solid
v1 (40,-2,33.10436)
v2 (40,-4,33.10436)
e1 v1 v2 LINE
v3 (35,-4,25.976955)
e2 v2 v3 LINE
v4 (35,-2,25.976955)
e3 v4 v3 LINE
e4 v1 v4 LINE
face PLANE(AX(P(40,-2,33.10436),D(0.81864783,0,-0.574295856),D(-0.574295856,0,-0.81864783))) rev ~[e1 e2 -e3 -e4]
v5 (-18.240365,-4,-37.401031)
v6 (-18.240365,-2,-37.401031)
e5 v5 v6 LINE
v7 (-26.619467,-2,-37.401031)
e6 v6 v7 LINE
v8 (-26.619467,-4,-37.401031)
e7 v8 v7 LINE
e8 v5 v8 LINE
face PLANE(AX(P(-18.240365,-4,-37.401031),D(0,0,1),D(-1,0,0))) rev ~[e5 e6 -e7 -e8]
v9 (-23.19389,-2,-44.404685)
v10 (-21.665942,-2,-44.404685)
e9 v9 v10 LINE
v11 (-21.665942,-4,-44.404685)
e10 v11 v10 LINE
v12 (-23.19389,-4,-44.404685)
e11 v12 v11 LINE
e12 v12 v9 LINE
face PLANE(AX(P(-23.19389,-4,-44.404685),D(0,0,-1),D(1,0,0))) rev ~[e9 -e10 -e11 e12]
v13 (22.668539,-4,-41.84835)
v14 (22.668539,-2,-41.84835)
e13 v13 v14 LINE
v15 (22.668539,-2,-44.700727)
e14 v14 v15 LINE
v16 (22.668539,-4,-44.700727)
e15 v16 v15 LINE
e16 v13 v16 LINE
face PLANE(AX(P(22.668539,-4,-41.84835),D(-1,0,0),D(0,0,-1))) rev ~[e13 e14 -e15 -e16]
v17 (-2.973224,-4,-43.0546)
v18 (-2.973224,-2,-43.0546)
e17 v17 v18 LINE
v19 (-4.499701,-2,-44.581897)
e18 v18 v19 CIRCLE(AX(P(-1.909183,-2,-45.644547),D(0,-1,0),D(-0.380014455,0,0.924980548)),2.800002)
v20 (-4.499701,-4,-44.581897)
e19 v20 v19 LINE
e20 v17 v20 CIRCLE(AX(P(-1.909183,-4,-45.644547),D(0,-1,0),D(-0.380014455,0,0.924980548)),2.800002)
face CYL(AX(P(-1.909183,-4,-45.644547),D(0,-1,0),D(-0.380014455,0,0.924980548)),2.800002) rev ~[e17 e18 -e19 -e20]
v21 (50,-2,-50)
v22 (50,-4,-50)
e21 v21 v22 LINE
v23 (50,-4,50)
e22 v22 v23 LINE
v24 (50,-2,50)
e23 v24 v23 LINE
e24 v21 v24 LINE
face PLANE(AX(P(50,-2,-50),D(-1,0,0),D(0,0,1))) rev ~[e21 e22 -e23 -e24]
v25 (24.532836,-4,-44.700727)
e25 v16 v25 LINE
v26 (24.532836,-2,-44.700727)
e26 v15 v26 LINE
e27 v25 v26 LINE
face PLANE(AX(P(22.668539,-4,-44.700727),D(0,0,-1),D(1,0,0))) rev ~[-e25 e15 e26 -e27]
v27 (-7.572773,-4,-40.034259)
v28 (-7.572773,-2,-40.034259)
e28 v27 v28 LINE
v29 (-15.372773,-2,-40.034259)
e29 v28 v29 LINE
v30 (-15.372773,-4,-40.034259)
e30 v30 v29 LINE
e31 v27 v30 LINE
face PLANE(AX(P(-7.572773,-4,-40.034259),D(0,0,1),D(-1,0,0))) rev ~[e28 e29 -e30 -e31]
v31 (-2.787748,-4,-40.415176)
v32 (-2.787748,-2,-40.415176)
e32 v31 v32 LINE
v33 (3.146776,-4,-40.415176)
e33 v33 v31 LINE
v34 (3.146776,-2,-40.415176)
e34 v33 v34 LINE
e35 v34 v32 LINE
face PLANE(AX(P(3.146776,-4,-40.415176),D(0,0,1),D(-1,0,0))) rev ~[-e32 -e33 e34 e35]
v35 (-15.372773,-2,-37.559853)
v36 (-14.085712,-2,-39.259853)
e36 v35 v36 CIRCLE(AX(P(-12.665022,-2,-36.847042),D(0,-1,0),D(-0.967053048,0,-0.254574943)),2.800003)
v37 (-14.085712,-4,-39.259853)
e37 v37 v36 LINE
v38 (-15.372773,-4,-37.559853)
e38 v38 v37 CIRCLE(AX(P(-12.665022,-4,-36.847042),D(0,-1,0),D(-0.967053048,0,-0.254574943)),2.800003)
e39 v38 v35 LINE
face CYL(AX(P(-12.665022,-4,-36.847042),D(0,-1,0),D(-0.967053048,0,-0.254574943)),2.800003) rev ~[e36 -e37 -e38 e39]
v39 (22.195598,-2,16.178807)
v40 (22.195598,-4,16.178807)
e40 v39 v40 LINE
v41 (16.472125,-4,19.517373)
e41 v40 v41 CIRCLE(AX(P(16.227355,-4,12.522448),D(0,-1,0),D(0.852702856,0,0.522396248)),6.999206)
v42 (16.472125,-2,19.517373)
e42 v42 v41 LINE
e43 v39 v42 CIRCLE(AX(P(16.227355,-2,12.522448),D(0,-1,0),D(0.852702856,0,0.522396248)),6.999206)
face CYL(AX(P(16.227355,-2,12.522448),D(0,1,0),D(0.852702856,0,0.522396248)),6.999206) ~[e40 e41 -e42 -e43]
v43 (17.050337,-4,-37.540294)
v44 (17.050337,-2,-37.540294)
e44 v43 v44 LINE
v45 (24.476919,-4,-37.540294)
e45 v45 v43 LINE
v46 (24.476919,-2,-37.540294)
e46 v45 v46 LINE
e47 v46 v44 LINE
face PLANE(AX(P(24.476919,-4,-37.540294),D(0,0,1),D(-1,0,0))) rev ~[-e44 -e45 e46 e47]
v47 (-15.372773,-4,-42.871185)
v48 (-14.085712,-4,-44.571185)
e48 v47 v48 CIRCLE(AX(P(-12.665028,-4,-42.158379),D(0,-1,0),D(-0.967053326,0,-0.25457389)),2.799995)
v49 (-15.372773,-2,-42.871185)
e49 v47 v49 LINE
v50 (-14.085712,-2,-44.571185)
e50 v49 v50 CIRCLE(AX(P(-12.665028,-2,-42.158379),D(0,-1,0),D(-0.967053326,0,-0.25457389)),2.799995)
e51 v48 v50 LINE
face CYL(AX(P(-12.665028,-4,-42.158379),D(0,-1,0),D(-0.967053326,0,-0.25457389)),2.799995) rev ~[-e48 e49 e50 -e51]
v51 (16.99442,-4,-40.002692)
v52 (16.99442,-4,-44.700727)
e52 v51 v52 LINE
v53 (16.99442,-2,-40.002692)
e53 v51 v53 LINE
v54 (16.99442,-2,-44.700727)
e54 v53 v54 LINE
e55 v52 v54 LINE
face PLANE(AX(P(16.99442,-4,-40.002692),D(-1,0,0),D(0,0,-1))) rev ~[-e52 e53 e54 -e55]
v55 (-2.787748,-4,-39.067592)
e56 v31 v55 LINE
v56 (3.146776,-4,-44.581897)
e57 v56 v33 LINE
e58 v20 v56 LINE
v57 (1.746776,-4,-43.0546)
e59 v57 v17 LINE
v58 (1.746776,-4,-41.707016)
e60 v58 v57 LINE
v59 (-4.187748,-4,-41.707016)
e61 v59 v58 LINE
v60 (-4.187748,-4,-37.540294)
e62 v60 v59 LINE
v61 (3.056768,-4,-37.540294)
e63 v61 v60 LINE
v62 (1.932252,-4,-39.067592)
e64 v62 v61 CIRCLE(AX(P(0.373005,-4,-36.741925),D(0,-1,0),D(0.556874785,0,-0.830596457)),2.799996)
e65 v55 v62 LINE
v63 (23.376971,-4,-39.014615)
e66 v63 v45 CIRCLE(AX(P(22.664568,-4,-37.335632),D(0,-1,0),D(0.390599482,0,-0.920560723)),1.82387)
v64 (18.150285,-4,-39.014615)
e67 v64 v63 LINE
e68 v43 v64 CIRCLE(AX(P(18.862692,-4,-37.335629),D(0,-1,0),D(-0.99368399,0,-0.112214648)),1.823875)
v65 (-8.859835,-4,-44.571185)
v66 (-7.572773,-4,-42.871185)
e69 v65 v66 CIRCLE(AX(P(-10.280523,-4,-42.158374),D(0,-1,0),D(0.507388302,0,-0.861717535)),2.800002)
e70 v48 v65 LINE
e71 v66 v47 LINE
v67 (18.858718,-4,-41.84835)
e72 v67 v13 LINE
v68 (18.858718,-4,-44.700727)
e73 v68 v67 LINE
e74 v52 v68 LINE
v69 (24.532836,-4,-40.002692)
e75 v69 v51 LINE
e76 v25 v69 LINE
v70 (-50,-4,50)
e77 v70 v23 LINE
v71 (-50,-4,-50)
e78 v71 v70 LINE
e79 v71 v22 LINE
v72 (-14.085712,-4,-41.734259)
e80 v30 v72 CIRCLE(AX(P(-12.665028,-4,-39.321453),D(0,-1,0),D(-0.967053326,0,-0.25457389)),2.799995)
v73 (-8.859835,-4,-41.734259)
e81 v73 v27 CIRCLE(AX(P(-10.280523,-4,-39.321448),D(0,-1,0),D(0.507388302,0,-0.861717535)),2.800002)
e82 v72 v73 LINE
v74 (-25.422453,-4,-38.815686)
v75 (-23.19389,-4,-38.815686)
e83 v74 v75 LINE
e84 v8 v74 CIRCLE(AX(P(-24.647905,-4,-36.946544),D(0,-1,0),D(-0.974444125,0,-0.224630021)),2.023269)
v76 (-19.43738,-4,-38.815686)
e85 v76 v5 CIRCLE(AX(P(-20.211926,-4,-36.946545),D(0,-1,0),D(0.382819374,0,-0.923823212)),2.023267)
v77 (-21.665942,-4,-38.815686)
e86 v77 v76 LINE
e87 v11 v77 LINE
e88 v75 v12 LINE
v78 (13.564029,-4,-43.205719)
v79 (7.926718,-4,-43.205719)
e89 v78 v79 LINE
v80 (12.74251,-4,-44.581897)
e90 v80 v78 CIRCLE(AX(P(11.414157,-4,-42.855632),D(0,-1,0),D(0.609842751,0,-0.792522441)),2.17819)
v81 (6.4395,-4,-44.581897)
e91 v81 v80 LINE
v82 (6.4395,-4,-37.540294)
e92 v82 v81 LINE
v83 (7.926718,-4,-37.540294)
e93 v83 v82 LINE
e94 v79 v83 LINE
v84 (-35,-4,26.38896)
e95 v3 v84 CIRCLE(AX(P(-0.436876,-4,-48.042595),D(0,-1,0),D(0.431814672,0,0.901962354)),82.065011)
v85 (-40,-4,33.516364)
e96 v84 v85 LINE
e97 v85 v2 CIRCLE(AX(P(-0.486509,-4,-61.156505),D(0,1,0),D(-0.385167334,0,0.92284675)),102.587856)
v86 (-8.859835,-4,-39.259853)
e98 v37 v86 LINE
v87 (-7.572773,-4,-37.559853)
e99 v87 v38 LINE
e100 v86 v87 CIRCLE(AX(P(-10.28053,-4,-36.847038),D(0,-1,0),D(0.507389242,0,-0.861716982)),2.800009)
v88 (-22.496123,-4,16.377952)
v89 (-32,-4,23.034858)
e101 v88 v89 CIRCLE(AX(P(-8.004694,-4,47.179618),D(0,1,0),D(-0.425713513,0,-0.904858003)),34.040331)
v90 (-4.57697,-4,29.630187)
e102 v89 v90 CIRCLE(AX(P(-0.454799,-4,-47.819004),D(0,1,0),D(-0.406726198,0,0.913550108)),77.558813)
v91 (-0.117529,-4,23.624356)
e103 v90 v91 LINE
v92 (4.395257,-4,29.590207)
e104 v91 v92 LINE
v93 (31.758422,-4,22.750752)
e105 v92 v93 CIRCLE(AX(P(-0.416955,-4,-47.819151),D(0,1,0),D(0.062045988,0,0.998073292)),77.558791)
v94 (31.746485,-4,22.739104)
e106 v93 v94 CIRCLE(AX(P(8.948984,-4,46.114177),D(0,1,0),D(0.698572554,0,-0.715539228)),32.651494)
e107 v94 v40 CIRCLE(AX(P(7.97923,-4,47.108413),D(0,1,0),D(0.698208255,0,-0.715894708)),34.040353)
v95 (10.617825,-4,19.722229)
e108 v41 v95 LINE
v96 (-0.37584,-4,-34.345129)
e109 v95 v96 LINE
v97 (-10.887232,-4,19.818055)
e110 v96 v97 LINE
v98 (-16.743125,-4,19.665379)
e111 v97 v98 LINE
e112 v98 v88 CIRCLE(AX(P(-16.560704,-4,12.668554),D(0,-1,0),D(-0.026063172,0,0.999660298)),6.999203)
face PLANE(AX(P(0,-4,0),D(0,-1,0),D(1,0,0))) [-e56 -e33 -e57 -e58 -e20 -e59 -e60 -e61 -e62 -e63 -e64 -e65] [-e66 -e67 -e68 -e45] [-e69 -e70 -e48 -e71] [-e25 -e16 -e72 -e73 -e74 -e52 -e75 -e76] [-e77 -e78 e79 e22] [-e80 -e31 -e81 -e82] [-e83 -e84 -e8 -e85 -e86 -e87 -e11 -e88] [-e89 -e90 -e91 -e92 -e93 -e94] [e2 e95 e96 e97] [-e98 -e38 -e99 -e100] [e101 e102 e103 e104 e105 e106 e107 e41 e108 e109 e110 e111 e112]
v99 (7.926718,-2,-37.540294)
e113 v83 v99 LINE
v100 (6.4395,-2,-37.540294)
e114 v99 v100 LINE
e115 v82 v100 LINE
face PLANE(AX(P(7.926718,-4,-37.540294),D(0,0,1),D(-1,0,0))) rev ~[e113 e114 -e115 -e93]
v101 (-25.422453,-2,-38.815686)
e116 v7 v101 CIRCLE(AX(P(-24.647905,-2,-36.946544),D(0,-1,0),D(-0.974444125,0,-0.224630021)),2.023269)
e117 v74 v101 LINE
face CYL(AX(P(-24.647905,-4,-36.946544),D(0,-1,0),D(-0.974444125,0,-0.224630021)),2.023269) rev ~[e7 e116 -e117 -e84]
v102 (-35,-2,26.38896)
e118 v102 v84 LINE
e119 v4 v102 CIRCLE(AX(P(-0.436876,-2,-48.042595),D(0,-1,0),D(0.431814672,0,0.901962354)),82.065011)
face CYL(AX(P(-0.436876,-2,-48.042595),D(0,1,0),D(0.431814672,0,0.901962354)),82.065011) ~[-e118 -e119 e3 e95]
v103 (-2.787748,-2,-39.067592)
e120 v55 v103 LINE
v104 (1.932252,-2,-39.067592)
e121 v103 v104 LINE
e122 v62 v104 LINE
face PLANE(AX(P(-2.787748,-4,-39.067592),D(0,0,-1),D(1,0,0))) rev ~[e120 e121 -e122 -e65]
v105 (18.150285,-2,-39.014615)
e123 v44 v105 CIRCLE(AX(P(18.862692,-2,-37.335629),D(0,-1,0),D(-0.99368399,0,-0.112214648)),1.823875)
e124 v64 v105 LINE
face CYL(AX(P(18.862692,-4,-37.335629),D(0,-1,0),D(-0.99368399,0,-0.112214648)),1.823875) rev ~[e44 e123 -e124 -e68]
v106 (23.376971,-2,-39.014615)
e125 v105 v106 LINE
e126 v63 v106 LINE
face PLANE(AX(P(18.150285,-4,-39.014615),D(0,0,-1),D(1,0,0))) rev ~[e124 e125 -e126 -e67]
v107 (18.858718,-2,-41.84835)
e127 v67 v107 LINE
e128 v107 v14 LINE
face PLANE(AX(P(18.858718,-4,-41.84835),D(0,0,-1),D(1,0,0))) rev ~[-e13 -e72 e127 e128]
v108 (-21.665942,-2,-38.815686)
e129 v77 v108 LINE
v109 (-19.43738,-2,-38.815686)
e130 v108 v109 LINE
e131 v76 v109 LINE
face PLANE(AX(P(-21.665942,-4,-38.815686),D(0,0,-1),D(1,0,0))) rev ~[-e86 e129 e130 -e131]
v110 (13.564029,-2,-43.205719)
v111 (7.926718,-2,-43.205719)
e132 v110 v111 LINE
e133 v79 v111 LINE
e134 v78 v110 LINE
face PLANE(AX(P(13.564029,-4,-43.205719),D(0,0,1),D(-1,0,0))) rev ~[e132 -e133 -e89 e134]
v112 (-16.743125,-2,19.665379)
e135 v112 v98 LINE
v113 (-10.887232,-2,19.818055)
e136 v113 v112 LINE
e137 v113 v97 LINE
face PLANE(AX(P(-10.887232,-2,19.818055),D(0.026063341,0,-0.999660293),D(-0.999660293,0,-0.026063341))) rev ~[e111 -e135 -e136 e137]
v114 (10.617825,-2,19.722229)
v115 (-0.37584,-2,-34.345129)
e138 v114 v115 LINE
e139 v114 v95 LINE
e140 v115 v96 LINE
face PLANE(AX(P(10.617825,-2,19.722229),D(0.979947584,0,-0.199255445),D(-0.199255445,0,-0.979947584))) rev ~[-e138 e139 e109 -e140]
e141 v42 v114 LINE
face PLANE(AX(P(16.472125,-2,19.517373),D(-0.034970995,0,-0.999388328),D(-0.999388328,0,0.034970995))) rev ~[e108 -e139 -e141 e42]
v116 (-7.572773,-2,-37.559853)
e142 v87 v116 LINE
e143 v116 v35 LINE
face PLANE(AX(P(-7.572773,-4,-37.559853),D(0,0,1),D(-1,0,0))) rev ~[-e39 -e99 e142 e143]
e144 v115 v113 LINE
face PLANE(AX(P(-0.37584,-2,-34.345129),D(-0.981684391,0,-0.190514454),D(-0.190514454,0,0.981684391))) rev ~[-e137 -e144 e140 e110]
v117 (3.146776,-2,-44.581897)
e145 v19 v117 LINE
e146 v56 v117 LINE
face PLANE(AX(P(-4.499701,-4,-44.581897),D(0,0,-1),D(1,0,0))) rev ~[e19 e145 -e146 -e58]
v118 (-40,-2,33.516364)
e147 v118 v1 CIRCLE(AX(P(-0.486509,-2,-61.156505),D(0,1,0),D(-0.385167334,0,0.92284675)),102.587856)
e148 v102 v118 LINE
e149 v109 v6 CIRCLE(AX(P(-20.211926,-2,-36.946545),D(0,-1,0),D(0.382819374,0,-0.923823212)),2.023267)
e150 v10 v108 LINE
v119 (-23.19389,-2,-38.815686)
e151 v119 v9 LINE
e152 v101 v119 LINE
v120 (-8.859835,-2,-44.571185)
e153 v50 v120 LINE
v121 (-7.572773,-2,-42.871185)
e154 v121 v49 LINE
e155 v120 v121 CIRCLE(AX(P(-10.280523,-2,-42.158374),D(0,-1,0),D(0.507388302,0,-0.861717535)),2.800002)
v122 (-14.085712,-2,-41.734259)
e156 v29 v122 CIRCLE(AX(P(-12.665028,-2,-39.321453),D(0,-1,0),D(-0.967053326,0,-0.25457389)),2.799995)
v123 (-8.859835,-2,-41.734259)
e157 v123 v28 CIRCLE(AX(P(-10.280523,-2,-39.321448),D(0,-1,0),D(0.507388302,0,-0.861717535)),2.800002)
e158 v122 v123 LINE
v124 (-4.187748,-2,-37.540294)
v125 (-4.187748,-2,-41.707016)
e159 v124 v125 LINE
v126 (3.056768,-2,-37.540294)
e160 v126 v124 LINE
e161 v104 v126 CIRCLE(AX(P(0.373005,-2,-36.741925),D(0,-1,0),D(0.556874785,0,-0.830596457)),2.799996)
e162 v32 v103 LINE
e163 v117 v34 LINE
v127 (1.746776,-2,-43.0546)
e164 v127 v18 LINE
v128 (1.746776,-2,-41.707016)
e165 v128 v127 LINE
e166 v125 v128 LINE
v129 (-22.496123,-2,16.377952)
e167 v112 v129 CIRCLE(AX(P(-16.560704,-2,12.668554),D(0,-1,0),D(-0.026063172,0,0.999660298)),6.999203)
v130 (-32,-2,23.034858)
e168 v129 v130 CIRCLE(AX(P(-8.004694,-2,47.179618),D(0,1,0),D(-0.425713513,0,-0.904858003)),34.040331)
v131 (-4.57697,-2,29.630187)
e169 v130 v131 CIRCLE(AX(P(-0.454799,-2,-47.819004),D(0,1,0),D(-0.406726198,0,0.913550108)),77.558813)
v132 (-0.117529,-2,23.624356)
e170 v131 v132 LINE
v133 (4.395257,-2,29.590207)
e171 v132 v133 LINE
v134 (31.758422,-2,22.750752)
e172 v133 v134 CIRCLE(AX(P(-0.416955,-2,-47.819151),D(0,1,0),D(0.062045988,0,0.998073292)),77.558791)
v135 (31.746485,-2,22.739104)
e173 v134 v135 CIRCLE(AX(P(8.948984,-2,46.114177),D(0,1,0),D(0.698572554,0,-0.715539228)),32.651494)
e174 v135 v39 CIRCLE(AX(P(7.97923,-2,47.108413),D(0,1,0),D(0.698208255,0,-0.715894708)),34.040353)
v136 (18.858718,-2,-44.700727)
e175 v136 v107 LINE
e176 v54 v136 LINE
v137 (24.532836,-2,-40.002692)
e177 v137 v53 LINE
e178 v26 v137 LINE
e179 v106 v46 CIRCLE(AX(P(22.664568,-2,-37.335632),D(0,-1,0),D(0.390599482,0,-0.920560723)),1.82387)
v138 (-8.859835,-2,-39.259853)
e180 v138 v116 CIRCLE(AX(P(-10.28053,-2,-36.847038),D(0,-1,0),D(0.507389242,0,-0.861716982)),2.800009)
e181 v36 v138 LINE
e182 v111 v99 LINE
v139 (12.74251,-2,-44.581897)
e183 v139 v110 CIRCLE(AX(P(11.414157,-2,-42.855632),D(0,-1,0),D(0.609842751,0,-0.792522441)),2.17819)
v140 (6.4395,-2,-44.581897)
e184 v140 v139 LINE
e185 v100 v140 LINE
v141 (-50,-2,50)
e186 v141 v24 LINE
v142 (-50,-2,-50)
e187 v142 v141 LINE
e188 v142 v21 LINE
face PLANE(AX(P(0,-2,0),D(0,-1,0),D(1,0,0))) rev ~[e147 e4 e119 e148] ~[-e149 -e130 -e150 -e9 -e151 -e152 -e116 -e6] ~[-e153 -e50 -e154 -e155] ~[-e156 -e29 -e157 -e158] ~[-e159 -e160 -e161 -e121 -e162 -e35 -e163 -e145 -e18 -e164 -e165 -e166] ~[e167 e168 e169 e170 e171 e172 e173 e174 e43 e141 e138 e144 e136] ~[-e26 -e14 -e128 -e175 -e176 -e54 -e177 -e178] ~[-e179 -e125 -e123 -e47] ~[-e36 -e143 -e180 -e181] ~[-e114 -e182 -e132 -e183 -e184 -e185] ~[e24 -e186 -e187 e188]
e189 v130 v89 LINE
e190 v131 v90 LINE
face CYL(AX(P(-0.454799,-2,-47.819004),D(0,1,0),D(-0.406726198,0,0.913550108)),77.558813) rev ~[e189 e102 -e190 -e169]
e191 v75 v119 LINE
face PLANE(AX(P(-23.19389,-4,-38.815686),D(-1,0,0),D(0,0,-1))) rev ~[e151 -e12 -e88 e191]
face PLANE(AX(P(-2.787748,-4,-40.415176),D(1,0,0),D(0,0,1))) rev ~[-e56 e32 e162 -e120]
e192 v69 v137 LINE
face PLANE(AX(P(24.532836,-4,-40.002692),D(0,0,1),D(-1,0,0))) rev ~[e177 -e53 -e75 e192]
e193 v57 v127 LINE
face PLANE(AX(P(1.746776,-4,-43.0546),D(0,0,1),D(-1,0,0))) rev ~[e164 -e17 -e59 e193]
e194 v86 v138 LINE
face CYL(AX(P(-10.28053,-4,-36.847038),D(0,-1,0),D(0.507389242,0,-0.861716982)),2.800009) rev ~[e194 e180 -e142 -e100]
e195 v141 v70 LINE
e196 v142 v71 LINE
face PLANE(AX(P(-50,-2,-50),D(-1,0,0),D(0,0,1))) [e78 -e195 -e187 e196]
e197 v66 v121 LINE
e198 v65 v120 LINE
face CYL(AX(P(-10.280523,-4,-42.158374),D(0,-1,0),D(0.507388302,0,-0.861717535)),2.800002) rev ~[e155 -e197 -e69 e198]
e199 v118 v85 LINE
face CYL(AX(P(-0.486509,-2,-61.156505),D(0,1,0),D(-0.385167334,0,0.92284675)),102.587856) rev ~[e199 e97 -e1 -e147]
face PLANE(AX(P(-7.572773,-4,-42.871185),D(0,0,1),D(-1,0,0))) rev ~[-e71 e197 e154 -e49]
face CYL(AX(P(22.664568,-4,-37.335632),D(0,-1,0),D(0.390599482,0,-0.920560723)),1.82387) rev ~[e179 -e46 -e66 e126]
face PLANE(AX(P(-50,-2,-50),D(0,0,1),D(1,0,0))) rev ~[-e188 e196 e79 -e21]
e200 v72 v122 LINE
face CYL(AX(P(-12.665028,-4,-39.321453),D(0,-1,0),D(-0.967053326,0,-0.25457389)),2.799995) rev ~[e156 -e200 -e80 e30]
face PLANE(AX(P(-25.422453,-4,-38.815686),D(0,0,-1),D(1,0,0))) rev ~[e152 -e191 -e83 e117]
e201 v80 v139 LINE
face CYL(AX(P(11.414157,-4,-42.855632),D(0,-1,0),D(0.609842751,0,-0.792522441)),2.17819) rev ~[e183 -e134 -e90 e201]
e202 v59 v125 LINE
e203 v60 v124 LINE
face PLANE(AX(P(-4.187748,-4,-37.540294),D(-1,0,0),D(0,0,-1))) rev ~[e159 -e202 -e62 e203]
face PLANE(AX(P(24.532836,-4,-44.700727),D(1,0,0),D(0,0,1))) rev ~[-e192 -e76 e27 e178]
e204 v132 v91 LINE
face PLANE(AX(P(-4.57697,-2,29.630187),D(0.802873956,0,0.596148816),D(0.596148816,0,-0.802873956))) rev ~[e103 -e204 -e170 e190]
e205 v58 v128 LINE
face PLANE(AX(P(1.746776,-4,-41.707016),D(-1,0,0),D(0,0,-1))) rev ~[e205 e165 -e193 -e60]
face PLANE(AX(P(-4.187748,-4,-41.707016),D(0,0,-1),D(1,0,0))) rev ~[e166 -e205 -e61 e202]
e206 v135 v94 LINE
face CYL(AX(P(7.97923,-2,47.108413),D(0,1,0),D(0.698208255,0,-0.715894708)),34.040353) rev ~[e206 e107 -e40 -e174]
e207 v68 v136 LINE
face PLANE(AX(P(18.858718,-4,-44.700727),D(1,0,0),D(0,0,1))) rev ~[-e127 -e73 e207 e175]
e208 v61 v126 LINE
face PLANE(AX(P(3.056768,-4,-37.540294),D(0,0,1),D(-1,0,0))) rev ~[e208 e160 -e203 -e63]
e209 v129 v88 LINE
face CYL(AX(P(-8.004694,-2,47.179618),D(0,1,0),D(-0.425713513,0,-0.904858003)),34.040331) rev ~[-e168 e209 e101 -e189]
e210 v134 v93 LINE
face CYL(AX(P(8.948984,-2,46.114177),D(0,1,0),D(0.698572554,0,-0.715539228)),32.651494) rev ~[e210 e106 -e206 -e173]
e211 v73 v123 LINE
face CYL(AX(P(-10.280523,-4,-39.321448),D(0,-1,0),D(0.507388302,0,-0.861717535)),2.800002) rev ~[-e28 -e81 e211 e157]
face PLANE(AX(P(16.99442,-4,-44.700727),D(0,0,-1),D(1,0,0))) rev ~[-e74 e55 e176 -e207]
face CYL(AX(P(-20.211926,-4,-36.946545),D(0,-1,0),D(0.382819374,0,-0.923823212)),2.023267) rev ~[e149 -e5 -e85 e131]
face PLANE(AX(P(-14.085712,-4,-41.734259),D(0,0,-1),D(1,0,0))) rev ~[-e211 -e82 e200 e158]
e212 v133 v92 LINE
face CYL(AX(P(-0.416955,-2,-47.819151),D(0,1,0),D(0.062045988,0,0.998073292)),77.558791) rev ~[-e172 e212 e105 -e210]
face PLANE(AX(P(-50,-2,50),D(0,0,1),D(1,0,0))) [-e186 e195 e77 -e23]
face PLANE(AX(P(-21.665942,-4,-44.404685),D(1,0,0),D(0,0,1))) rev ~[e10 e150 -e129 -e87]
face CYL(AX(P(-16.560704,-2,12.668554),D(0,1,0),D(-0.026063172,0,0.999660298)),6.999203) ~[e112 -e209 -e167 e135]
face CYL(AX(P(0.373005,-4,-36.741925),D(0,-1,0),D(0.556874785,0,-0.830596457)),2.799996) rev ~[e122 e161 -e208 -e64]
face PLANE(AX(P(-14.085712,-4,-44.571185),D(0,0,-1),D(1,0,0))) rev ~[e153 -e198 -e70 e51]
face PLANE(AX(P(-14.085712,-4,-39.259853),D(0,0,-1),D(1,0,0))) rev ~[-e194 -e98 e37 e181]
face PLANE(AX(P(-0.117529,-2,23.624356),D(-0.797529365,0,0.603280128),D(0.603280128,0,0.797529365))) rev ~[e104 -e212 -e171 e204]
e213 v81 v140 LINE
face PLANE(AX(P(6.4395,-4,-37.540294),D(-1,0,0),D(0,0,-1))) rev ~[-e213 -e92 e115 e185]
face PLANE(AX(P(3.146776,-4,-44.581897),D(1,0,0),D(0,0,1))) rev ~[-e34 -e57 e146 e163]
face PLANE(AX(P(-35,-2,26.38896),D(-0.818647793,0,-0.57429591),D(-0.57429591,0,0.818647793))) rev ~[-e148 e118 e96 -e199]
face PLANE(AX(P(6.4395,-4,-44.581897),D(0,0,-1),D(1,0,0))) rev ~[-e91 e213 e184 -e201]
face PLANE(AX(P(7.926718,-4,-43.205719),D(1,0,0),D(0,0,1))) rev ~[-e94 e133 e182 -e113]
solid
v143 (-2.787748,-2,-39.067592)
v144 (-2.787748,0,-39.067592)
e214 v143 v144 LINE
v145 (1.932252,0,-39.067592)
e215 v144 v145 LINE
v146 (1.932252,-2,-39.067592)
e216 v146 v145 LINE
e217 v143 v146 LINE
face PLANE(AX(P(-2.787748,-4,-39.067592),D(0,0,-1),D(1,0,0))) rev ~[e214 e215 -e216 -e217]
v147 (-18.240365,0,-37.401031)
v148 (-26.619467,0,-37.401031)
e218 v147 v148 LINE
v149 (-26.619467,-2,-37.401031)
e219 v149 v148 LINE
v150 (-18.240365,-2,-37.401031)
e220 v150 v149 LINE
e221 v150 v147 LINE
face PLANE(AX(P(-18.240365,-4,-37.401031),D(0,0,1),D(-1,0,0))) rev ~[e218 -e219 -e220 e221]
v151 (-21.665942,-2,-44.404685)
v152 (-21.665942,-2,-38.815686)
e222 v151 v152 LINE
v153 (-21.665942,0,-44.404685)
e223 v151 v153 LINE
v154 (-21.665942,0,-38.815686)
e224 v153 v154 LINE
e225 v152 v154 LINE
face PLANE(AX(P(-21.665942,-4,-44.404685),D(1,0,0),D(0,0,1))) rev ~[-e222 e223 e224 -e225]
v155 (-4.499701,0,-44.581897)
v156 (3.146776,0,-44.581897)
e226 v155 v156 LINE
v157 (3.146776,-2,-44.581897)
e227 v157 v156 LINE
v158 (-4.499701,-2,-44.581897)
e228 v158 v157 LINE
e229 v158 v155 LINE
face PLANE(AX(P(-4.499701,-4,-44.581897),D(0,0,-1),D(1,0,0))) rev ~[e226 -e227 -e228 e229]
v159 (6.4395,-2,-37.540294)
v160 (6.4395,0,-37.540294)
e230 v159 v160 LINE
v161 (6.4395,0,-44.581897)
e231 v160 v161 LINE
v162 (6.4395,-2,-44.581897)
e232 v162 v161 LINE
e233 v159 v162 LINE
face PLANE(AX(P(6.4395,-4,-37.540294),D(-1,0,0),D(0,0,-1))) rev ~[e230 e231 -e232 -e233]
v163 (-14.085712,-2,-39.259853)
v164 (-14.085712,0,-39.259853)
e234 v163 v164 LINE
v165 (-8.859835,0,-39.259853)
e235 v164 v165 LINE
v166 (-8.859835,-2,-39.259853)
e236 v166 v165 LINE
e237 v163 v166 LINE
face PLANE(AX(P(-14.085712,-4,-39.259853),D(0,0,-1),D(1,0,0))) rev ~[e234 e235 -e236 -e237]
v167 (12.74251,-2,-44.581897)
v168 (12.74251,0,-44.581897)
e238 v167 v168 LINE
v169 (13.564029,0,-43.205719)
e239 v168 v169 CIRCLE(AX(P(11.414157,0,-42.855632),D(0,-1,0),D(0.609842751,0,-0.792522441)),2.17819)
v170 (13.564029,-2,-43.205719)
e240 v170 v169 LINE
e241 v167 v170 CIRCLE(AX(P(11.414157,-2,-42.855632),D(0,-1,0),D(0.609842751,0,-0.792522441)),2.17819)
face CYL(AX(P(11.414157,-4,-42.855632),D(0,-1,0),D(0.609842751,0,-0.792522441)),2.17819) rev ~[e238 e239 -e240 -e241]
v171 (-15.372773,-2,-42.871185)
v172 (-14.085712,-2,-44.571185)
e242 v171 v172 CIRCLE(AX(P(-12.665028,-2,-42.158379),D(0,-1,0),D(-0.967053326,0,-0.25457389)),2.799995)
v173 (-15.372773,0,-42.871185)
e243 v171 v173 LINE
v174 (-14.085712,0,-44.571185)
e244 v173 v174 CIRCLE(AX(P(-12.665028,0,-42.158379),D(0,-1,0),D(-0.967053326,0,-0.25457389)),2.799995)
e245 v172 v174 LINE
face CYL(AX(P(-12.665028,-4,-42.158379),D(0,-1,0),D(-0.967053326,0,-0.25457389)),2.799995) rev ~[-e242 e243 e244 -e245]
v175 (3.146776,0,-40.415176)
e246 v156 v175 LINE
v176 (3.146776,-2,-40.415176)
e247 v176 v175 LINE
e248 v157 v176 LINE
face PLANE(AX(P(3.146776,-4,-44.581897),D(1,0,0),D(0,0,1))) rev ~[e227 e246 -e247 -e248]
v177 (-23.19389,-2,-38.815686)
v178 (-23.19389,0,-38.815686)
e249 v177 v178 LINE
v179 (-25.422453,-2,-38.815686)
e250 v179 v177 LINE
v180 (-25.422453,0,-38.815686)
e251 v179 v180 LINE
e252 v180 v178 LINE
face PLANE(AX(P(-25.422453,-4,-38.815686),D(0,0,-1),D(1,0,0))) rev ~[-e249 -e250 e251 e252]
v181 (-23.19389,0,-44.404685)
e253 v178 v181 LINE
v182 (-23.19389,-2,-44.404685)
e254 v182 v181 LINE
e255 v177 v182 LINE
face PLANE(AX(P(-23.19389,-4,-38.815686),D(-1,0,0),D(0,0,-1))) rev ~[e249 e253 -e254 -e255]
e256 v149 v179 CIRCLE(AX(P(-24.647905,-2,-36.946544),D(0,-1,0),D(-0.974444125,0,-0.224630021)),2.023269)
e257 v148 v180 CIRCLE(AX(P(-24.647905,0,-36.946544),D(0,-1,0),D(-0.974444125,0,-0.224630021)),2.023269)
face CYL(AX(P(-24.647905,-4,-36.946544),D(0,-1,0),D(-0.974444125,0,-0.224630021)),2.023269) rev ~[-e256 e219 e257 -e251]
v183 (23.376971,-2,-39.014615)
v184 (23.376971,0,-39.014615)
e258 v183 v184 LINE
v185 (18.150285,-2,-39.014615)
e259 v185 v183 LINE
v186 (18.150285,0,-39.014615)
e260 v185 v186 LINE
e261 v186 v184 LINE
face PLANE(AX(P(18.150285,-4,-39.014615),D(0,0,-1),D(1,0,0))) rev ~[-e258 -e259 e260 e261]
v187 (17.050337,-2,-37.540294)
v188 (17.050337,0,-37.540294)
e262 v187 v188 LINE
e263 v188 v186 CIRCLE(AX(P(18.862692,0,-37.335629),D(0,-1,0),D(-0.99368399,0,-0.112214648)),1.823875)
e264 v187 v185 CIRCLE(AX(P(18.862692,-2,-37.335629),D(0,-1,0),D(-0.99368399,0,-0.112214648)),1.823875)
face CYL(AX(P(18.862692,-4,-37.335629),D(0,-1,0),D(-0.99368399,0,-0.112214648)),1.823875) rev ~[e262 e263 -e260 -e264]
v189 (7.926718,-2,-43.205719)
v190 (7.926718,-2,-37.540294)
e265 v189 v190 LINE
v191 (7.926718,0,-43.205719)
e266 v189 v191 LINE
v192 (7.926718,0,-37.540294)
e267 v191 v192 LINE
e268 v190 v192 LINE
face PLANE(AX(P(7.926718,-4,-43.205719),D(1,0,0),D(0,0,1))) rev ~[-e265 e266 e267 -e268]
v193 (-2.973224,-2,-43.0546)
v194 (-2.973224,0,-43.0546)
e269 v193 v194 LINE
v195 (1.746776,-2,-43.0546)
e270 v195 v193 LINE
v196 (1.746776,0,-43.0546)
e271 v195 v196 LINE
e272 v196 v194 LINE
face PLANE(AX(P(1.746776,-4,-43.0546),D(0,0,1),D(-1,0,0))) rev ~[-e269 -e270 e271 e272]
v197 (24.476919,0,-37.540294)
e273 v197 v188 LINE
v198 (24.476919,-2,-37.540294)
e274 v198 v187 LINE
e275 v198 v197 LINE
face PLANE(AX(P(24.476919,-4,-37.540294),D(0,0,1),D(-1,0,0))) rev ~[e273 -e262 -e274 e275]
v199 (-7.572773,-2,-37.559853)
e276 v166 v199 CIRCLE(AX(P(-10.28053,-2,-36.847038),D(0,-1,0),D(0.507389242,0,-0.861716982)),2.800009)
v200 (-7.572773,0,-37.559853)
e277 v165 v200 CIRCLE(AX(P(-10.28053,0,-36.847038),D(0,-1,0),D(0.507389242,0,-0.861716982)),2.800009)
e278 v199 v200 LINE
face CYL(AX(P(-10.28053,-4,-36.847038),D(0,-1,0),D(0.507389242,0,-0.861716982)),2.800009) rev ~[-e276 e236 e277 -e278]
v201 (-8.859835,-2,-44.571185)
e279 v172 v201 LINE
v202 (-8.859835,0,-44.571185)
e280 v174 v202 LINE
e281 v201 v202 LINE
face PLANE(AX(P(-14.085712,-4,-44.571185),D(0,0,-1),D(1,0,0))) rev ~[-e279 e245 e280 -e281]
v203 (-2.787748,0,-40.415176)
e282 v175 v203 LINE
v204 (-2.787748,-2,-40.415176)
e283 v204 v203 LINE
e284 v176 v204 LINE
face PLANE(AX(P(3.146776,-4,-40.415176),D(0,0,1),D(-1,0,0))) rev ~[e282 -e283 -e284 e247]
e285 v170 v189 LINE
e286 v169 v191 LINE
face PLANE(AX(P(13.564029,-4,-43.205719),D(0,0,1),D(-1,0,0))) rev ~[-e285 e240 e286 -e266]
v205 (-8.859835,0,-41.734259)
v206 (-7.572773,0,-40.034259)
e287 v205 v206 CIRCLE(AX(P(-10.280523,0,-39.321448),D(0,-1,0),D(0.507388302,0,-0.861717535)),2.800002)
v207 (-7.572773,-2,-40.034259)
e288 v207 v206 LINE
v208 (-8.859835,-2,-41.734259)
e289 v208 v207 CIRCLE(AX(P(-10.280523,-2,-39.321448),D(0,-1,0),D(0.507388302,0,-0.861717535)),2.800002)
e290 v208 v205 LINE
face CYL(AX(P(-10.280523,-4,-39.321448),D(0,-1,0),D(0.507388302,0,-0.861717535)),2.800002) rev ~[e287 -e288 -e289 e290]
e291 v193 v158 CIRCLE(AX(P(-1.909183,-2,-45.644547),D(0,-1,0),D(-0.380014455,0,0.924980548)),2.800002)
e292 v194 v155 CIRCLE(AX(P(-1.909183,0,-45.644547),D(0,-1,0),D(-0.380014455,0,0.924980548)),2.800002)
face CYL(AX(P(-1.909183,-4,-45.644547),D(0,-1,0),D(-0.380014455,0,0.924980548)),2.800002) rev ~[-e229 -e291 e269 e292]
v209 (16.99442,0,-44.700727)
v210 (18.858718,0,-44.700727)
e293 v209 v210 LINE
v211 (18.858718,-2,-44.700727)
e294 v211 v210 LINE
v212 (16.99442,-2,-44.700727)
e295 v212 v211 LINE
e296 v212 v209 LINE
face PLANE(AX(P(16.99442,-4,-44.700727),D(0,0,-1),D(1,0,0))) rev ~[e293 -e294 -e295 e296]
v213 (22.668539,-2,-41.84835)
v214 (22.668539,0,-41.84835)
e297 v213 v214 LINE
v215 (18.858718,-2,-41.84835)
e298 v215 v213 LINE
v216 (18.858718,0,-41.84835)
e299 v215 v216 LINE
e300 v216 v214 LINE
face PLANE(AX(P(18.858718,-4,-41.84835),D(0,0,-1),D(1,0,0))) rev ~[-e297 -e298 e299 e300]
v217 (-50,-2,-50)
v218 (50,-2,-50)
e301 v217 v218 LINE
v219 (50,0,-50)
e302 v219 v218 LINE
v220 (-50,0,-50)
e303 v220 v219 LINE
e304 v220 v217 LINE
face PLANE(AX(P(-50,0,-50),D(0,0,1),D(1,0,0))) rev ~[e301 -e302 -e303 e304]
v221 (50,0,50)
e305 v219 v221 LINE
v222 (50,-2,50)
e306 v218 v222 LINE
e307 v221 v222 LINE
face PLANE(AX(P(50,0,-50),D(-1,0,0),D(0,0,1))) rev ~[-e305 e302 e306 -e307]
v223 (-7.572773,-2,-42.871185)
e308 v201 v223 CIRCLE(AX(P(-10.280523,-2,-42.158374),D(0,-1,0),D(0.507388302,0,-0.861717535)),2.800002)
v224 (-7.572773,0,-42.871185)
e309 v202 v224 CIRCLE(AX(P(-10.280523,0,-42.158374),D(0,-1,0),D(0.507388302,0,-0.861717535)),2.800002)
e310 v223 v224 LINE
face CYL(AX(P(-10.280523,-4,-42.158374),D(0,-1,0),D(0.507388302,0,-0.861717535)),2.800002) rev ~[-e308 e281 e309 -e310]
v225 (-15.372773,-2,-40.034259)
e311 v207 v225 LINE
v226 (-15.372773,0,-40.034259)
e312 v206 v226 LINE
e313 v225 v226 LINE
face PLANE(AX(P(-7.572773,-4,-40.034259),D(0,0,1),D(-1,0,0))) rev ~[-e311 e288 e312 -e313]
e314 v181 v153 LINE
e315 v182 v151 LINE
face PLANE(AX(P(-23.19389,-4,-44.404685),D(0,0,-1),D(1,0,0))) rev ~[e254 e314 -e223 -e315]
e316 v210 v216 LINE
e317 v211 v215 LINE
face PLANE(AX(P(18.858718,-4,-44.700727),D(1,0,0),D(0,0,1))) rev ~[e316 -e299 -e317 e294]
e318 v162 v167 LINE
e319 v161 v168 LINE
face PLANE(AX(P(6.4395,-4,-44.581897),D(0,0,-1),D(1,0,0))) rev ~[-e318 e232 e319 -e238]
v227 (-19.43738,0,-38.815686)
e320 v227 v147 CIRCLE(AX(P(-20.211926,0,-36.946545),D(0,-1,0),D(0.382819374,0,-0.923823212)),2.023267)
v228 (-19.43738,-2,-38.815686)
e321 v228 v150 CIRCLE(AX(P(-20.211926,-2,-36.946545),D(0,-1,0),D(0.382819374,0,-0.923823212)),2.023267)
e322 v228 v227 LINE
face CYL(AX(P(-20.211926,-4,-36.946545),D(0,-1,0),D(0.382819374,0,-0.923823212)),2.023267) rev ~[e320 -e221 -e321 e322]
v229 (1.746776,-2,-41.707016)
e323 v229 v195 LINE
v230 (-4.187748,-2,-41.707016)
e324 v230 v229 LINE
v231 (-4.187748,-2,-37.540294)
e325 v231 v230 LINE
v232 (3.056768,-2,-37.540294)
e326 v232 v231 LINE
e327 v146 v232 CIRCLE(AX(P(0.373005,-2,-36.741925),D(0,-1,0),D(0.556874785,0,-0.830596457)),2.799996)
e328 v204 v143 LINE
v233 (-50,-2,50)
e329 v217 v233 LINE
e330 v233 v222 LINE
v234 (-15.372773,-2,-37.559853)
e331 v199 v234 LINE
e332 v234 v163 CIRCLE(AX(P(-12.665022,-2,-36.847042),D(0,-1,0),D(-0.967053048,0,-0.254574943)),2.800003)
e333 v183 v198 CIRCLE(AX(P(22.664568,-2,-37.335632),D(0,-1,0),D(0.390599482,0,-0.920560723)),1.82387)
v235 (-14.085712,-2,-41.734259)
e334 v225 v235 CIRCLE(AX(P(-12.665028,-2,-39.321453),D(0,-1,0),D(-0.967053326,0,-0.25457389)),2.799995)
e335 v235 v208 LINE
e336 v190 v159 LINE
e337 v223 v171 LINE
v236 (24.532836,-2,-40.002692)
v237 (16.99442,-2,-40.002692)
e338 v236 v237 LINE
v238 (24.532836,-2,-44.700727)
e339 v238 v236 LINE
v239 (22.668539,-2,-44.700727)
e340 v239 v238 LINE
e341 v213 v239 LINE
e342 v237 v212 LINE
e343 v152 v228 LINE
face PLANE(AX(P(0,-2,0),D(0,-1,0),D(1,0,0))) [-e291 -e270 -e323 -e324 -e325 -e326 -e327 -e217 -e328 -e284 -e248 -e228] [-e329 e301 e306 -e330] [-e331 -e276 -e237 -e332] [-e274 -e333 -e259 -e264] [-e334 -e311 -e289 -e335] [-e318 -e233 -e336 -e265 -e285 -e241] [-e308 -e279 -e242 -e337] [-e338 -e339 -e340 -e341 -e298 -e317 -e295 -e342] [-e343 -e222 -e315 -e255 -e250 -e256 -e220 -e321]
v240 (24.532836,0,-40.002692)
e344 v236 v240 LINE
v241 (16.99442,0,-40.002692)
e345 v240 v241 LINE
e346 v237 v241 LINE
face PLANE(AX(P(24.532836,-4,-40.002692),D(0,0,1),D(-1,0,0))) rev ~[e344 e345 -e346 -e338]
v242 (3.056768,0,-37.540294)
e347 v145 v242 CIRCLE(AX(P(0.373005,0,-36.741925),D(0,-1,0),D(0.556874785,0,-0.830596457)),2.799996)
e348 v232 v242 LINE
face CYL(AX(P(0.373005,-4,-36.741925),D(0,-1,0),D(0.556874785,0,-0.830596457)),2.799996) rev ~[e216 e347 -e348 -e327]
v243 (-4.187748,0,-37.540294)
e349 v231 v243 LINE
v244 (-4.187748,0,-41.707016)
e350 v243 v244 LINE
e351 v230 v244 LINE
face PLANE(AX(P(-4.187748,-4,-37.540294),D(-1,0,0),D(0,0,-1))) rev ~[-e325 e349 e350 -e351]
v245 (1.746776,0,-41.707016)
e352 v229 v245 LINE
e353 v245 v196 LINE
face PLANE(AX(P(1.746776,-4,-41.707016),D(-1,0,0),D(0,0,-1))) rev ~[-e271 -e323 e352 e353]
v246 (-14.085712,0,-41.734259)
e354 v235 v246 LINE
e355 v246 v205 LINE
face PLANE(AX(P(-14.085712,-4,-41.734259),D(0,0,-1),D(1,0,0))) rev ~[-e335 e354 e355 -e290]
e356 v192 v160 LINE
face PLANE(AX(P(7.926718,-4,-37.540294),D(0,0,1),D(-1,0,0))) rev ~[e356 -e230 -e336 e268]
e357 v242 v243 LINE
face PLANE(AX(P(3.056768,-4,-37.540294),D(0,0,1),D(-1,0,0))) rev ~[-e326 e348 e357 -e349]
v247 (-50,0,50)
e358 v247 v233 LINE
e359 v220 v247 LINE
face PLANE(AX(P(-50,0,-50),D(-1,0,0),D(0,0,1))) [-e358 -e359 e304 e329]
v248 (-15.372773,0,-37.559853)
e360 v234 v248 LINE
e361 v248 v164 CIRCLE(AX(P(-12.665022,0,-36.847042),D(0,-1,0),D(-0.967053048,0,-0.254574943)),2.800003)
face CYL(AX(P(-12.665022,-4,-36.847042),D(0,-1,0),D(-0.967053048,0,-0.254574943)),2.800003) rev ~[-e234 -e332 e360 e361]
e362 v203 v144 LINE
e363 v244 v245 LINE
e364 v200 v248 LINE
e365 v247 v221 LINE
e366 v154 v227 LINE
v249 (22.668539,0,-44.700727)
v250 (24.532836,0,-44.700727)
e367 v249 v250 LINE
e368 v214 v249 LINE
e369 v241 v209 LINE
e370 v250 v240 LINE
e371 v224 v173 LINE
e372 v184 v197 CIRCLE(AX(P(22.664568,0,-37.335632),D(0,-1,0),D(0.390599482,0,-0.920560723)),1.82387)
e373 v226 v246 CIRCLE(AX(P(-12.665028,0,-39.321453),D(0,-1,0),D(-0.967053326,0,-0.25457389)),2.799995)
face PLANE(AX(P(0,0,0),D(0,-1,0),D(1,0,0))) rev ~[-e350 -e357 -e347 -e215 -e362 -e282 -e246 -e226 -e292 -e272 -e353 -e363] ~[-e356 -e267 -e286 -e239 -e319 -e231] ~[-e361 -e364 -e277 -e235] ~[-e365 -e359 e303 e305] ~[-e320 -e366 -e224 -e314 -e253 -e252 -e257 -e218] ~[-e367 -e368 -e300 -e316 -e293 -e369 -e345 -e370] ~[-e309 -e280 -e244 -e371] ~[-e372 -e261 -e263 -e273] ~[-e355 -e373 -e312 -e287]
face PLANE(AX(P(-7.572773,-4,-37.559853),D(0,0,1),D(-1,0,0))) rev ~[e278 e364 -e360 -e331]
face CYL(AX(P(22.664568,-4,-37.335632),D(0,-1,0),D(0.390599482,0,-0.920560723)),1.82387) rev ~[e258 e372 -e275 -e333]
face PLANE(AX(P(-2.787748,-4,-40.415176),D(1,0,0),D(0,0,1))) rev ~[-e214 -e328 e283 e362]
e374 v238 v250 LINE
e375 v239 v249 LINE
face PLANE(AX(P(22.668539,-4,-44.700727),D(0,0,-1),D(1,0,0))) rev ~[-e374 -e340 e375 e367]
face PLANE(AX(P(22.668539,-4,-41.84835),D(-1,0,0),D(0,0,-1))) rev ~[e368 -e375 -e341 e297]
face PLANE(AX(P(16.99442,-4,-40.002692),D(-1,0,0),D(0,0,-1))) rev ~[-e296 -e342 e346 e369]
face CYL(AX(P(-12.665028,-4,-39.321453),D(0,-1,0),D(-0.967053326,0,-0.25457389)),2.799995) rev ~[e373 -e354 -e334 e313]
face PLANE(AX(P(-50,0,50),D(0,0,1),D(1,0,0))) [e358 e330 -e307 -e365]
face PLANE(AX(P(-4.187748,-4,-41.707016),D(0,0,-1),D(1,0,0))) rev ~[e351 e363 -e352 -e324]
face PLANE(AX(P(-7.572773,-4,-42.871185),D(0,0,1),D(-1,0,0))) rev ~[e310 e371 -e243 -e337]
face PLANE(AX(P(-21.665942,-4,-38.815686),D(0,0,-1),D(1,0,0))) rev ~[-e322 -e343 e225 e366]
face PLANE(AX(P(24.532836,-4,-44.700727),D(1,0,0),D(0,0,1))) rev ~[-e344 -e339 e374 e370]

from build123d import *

# Parameters (mm, degrees)
F0_W     = 100
F0_H     = 100
F1_DEPTH = 2
F2_W     = 100
F2_H     = 100
F3_DEPTH = 2
F5_DEPTH = 10


with BuildPart() as f1:
    # F0 (on Front) → F1 (new body)
    with BuildSketch(Plane.XZ):
        Rectangle(F0_W, F0_H)
    extrude(amount=F1_DEPTH)


with BuildPart() as f3:
    # F2 (on face) → F3 (new body)
    with BuildSketch(Plane.XZ.offset(2)):
        Rectangle(F2_W, F2_H)
        with BuildLine():
            ThreePointArc((-22.496123, 16.377952), (-27.533795, 19.298471), (-32, 23.034858))
            ThreePointArc((-32, 23.034858), (-18.590811, 27.58958), (-4.57697, 29.630187))
            Line((-4.57697, 29.630187), (-0.117529, 23.624356))
            Line((-0.117529, 23.624356), (4.395257, 29.590207))
            ThreePointArc((4.395257, 29.590207), (18.390357, 27.424793), (31.758422, 22.750752))
            ThreePointArc((31.758422, 22.750752), (31.752454, 22.744927), (31.746485, 22.739104))
            ThreePointArc((31.746485, 22.739104), (27.252223, 19.049593), (22.195598, 16.178807))
            ThreePointArc((22.195598, 16.178807), (19.753952, 18.568273), (16.472125, 19.517373))
            Line((16.472125, 19.517373), (10.617825, 19.722229))
            Line((10.617825, 19.722229), (-0.37584, -34.345129))
            Line((-0.37584, -34.345129), (-10.887232, 19.818055))
            Line((-10.887232, 19.818055), (-16.743125, 19.665379))
            ThreePointArc((-16.743125, 19.665379), (-20.03328, 18.745564), (-22.496123, 16.377952))
        make_face(mode=Mode.SUBTRACT)
        with BuildLine():
            ThreePointArc((-40, 33.516364), (0.041817, 41.42999), (40, 33.10436))
            Line((40, 33.10436), (35, 25.976955))
            ThreePointArc((35, 25.976955), (0.046133, 34.020994), (-35, 26.38896))
            Line((-35, 26.38896), (-40, 33.516364))
        make_face(mode=Mode.SUBTRACT)
    extrude(amount=F3_DEPTH)


with BuildPart() as f5_tool:
    # F4 (on face) → F5 (new body)
    with BuildSketch(Plane.XZ.offset(4)):
        with BuildLine():
            Line((-18.240365, -37.401031), (-26.619467, -37.401031))
            ThreePointArc((-26.619467, -37.401031), (-26.192441, -38.253458), (-25.422453, -38.815686))
            Line((-25.422453, -38.815686), (-23.19389, -38.815686))
            Line((-23.19389, -38.815686), (-23.19389, -44.404685))
            Line((-23.19389, -44.404685), (-22.429916, -44.404685))
            Line((-22.429916, -44.404685), (-21.665942, -44.404685))
            Line((-21.665942, -44.404685), (-21.665942, -38.815686))
            Line((-21.665942, -38.815686), (-19.43738, -38.815686))
            ThreePointArc((-19.43738, -38.815686), (-18.667391, -38.253458), (-18.240365, -37.401031))
        make_face()
        with BuildLine():
            Line((-11.472773, -37.559853), (-15.372773, -37.559853))
            ThreePointArc((-15.372773, -37.559853), (-14.897399, -38.537163), (-14.085712, -39.259853))
            Line((-14.085712, -39.259853), (-11.472773, -39.259853))
            Line((-11.472773, -39.259853), (-8.859835, -39.259853))
            ThreePointArc((-8.859835, -39.259853), (-8.048148, -38.537163), (-7.572773, -37.559853))
            Line((-7.572773, -37.559853), (-11.472773, -37.559853))
        make_face()
        with BuildLine():
            Line((-11.472773, -40.034259), (-15.372773, -40.034259))
            ThreePointArc((-15.372773, -40.034259), (-14.897399, -41.01157), (-14.085712, -41.734259))
            Line((-14.085712, -41.734259), (-11.472773, -41.734259))
            Line((-11.472773, -41.734259), (-8.859835, -41.734259))
            ThreePointArc((-8.859835, -41.734259), (-8.048148, -41.01157), (-7.572773, -40.034259))
            Line((-7.572773, -40.034259), (-11.472773, -40.034259))
        make_face()
        with BuildLine():
            Line((-11.472773, -42.871185), (-15.372773, -42.871185))
            ThreePointArc((-15.372773, -42.871185), (-14.897399, -43.848496), (-14.085712, -44.571185))
            Line((-14.085712, -44.571185), (-11.472773, -44.571185))
            Line((-11.472773, -44.571185), (-8.859835, -44.571185))
            ThreePointArc((-8.859835, -44.571185), (-8.048148, -43.848496), (-7.572773, -42.871185))
            Line((-7.572773, -42.871185), (-11.472773, -42.871185))
        make_face()
        with BuildLine():
            ThreePointArc((1.932252, -39.067592), (2.627765, -38.402056), (3.056768, -37.540294))
            Line((3.056768, -37.540294), (-4.187748, -37.540294))
            Line((-4.187748, -37.540294), (-4.187748, -41.707016))
            Line((-4.187748, -41.707016), (1.746776, -41.707016))
            Line((1.746776, -41.707016), (1.746776, -43.0546))
            Line((1.746776, -43.0546), (-2.973224, -43.0546))
            ThreePointArc((-2.973224, -43.0546), (-3.889615, -43.665179), (-4.499701, -44.581897))
            Line((-4.499701, -44.581897), (3.146776, -44.581897))
            Line((3.146776, -44.581897), (3.146776, -40.415176))
            Line((3.146776, -40.415176), (-2.787748, -40.415176))
            Line((-2.787748, -40.415176), (-2.787748, -39.067592))
            Line((-2.787748, -39.067592), (1.932252, -39.067592))
        make_face()
        with BuildLine():
            Line((7.926718, -37.540294), (6.4395, -37.540294))
            Line((6.4395, -37.540294), (6.4395, -44.581897))
            Line((6.4395, -44.581897), (12.74251, -44.581897))
            ThreePointArc((12.74251, -44.581897), (13.284445, -43.972115), (13.564029, -43.205719))
            Line((13.564029, -43.205719), (7.926718, -43.205719))
            Line((7.926718, -43.205719), (7.926718, -37.540294))
        make_face()
        Polygon((24.532836, -40.002692), (20.763628, -40.002692), (16.99442, -40.002692), (16.99442, -44.700727), (18.858718, -44.700727), (18.858718, -41.84835), (20.763628, -41.84835), (22.668539, -41.84835), (22.668539, -44.700727), (24.532836, -44.700727), align=None)
        with BuildLine():
            Line((20.763628, -37.540294), (17.050337, -37.540294))
            ThreePointArc((17.050337, -37.540294), (17.40084, -38.426274), (18.150285, -39.014615))
            Line((18.150285, -39.014615), (20.763628, -39.014615))
            Line((20.763628, -39.014615), (23.376971, -39.014615))
            ThreePointArc((23.376971, -39.014615), (24.126417, -38.426274), (24.476919, -37.540294))
            Line((24.476919, -37.540294), (20.763628, -37.540294))
        make_face()
    extrude(amount=-F5_DEPTH)


with BuildPart() as f1_1:
    add(f1.part)

    # F5: cut by f5_tool
    add(f5_tool.part, mode=Mode.SUBTRACT)


with BuildPart() as f3_1:
    add(f3.part)

    # F5: cut by f5_tool
    add(f5_tool.part, mode=Mode.SUBTRACT)


solid = Compound([f1_1.part, f3_1.part])
